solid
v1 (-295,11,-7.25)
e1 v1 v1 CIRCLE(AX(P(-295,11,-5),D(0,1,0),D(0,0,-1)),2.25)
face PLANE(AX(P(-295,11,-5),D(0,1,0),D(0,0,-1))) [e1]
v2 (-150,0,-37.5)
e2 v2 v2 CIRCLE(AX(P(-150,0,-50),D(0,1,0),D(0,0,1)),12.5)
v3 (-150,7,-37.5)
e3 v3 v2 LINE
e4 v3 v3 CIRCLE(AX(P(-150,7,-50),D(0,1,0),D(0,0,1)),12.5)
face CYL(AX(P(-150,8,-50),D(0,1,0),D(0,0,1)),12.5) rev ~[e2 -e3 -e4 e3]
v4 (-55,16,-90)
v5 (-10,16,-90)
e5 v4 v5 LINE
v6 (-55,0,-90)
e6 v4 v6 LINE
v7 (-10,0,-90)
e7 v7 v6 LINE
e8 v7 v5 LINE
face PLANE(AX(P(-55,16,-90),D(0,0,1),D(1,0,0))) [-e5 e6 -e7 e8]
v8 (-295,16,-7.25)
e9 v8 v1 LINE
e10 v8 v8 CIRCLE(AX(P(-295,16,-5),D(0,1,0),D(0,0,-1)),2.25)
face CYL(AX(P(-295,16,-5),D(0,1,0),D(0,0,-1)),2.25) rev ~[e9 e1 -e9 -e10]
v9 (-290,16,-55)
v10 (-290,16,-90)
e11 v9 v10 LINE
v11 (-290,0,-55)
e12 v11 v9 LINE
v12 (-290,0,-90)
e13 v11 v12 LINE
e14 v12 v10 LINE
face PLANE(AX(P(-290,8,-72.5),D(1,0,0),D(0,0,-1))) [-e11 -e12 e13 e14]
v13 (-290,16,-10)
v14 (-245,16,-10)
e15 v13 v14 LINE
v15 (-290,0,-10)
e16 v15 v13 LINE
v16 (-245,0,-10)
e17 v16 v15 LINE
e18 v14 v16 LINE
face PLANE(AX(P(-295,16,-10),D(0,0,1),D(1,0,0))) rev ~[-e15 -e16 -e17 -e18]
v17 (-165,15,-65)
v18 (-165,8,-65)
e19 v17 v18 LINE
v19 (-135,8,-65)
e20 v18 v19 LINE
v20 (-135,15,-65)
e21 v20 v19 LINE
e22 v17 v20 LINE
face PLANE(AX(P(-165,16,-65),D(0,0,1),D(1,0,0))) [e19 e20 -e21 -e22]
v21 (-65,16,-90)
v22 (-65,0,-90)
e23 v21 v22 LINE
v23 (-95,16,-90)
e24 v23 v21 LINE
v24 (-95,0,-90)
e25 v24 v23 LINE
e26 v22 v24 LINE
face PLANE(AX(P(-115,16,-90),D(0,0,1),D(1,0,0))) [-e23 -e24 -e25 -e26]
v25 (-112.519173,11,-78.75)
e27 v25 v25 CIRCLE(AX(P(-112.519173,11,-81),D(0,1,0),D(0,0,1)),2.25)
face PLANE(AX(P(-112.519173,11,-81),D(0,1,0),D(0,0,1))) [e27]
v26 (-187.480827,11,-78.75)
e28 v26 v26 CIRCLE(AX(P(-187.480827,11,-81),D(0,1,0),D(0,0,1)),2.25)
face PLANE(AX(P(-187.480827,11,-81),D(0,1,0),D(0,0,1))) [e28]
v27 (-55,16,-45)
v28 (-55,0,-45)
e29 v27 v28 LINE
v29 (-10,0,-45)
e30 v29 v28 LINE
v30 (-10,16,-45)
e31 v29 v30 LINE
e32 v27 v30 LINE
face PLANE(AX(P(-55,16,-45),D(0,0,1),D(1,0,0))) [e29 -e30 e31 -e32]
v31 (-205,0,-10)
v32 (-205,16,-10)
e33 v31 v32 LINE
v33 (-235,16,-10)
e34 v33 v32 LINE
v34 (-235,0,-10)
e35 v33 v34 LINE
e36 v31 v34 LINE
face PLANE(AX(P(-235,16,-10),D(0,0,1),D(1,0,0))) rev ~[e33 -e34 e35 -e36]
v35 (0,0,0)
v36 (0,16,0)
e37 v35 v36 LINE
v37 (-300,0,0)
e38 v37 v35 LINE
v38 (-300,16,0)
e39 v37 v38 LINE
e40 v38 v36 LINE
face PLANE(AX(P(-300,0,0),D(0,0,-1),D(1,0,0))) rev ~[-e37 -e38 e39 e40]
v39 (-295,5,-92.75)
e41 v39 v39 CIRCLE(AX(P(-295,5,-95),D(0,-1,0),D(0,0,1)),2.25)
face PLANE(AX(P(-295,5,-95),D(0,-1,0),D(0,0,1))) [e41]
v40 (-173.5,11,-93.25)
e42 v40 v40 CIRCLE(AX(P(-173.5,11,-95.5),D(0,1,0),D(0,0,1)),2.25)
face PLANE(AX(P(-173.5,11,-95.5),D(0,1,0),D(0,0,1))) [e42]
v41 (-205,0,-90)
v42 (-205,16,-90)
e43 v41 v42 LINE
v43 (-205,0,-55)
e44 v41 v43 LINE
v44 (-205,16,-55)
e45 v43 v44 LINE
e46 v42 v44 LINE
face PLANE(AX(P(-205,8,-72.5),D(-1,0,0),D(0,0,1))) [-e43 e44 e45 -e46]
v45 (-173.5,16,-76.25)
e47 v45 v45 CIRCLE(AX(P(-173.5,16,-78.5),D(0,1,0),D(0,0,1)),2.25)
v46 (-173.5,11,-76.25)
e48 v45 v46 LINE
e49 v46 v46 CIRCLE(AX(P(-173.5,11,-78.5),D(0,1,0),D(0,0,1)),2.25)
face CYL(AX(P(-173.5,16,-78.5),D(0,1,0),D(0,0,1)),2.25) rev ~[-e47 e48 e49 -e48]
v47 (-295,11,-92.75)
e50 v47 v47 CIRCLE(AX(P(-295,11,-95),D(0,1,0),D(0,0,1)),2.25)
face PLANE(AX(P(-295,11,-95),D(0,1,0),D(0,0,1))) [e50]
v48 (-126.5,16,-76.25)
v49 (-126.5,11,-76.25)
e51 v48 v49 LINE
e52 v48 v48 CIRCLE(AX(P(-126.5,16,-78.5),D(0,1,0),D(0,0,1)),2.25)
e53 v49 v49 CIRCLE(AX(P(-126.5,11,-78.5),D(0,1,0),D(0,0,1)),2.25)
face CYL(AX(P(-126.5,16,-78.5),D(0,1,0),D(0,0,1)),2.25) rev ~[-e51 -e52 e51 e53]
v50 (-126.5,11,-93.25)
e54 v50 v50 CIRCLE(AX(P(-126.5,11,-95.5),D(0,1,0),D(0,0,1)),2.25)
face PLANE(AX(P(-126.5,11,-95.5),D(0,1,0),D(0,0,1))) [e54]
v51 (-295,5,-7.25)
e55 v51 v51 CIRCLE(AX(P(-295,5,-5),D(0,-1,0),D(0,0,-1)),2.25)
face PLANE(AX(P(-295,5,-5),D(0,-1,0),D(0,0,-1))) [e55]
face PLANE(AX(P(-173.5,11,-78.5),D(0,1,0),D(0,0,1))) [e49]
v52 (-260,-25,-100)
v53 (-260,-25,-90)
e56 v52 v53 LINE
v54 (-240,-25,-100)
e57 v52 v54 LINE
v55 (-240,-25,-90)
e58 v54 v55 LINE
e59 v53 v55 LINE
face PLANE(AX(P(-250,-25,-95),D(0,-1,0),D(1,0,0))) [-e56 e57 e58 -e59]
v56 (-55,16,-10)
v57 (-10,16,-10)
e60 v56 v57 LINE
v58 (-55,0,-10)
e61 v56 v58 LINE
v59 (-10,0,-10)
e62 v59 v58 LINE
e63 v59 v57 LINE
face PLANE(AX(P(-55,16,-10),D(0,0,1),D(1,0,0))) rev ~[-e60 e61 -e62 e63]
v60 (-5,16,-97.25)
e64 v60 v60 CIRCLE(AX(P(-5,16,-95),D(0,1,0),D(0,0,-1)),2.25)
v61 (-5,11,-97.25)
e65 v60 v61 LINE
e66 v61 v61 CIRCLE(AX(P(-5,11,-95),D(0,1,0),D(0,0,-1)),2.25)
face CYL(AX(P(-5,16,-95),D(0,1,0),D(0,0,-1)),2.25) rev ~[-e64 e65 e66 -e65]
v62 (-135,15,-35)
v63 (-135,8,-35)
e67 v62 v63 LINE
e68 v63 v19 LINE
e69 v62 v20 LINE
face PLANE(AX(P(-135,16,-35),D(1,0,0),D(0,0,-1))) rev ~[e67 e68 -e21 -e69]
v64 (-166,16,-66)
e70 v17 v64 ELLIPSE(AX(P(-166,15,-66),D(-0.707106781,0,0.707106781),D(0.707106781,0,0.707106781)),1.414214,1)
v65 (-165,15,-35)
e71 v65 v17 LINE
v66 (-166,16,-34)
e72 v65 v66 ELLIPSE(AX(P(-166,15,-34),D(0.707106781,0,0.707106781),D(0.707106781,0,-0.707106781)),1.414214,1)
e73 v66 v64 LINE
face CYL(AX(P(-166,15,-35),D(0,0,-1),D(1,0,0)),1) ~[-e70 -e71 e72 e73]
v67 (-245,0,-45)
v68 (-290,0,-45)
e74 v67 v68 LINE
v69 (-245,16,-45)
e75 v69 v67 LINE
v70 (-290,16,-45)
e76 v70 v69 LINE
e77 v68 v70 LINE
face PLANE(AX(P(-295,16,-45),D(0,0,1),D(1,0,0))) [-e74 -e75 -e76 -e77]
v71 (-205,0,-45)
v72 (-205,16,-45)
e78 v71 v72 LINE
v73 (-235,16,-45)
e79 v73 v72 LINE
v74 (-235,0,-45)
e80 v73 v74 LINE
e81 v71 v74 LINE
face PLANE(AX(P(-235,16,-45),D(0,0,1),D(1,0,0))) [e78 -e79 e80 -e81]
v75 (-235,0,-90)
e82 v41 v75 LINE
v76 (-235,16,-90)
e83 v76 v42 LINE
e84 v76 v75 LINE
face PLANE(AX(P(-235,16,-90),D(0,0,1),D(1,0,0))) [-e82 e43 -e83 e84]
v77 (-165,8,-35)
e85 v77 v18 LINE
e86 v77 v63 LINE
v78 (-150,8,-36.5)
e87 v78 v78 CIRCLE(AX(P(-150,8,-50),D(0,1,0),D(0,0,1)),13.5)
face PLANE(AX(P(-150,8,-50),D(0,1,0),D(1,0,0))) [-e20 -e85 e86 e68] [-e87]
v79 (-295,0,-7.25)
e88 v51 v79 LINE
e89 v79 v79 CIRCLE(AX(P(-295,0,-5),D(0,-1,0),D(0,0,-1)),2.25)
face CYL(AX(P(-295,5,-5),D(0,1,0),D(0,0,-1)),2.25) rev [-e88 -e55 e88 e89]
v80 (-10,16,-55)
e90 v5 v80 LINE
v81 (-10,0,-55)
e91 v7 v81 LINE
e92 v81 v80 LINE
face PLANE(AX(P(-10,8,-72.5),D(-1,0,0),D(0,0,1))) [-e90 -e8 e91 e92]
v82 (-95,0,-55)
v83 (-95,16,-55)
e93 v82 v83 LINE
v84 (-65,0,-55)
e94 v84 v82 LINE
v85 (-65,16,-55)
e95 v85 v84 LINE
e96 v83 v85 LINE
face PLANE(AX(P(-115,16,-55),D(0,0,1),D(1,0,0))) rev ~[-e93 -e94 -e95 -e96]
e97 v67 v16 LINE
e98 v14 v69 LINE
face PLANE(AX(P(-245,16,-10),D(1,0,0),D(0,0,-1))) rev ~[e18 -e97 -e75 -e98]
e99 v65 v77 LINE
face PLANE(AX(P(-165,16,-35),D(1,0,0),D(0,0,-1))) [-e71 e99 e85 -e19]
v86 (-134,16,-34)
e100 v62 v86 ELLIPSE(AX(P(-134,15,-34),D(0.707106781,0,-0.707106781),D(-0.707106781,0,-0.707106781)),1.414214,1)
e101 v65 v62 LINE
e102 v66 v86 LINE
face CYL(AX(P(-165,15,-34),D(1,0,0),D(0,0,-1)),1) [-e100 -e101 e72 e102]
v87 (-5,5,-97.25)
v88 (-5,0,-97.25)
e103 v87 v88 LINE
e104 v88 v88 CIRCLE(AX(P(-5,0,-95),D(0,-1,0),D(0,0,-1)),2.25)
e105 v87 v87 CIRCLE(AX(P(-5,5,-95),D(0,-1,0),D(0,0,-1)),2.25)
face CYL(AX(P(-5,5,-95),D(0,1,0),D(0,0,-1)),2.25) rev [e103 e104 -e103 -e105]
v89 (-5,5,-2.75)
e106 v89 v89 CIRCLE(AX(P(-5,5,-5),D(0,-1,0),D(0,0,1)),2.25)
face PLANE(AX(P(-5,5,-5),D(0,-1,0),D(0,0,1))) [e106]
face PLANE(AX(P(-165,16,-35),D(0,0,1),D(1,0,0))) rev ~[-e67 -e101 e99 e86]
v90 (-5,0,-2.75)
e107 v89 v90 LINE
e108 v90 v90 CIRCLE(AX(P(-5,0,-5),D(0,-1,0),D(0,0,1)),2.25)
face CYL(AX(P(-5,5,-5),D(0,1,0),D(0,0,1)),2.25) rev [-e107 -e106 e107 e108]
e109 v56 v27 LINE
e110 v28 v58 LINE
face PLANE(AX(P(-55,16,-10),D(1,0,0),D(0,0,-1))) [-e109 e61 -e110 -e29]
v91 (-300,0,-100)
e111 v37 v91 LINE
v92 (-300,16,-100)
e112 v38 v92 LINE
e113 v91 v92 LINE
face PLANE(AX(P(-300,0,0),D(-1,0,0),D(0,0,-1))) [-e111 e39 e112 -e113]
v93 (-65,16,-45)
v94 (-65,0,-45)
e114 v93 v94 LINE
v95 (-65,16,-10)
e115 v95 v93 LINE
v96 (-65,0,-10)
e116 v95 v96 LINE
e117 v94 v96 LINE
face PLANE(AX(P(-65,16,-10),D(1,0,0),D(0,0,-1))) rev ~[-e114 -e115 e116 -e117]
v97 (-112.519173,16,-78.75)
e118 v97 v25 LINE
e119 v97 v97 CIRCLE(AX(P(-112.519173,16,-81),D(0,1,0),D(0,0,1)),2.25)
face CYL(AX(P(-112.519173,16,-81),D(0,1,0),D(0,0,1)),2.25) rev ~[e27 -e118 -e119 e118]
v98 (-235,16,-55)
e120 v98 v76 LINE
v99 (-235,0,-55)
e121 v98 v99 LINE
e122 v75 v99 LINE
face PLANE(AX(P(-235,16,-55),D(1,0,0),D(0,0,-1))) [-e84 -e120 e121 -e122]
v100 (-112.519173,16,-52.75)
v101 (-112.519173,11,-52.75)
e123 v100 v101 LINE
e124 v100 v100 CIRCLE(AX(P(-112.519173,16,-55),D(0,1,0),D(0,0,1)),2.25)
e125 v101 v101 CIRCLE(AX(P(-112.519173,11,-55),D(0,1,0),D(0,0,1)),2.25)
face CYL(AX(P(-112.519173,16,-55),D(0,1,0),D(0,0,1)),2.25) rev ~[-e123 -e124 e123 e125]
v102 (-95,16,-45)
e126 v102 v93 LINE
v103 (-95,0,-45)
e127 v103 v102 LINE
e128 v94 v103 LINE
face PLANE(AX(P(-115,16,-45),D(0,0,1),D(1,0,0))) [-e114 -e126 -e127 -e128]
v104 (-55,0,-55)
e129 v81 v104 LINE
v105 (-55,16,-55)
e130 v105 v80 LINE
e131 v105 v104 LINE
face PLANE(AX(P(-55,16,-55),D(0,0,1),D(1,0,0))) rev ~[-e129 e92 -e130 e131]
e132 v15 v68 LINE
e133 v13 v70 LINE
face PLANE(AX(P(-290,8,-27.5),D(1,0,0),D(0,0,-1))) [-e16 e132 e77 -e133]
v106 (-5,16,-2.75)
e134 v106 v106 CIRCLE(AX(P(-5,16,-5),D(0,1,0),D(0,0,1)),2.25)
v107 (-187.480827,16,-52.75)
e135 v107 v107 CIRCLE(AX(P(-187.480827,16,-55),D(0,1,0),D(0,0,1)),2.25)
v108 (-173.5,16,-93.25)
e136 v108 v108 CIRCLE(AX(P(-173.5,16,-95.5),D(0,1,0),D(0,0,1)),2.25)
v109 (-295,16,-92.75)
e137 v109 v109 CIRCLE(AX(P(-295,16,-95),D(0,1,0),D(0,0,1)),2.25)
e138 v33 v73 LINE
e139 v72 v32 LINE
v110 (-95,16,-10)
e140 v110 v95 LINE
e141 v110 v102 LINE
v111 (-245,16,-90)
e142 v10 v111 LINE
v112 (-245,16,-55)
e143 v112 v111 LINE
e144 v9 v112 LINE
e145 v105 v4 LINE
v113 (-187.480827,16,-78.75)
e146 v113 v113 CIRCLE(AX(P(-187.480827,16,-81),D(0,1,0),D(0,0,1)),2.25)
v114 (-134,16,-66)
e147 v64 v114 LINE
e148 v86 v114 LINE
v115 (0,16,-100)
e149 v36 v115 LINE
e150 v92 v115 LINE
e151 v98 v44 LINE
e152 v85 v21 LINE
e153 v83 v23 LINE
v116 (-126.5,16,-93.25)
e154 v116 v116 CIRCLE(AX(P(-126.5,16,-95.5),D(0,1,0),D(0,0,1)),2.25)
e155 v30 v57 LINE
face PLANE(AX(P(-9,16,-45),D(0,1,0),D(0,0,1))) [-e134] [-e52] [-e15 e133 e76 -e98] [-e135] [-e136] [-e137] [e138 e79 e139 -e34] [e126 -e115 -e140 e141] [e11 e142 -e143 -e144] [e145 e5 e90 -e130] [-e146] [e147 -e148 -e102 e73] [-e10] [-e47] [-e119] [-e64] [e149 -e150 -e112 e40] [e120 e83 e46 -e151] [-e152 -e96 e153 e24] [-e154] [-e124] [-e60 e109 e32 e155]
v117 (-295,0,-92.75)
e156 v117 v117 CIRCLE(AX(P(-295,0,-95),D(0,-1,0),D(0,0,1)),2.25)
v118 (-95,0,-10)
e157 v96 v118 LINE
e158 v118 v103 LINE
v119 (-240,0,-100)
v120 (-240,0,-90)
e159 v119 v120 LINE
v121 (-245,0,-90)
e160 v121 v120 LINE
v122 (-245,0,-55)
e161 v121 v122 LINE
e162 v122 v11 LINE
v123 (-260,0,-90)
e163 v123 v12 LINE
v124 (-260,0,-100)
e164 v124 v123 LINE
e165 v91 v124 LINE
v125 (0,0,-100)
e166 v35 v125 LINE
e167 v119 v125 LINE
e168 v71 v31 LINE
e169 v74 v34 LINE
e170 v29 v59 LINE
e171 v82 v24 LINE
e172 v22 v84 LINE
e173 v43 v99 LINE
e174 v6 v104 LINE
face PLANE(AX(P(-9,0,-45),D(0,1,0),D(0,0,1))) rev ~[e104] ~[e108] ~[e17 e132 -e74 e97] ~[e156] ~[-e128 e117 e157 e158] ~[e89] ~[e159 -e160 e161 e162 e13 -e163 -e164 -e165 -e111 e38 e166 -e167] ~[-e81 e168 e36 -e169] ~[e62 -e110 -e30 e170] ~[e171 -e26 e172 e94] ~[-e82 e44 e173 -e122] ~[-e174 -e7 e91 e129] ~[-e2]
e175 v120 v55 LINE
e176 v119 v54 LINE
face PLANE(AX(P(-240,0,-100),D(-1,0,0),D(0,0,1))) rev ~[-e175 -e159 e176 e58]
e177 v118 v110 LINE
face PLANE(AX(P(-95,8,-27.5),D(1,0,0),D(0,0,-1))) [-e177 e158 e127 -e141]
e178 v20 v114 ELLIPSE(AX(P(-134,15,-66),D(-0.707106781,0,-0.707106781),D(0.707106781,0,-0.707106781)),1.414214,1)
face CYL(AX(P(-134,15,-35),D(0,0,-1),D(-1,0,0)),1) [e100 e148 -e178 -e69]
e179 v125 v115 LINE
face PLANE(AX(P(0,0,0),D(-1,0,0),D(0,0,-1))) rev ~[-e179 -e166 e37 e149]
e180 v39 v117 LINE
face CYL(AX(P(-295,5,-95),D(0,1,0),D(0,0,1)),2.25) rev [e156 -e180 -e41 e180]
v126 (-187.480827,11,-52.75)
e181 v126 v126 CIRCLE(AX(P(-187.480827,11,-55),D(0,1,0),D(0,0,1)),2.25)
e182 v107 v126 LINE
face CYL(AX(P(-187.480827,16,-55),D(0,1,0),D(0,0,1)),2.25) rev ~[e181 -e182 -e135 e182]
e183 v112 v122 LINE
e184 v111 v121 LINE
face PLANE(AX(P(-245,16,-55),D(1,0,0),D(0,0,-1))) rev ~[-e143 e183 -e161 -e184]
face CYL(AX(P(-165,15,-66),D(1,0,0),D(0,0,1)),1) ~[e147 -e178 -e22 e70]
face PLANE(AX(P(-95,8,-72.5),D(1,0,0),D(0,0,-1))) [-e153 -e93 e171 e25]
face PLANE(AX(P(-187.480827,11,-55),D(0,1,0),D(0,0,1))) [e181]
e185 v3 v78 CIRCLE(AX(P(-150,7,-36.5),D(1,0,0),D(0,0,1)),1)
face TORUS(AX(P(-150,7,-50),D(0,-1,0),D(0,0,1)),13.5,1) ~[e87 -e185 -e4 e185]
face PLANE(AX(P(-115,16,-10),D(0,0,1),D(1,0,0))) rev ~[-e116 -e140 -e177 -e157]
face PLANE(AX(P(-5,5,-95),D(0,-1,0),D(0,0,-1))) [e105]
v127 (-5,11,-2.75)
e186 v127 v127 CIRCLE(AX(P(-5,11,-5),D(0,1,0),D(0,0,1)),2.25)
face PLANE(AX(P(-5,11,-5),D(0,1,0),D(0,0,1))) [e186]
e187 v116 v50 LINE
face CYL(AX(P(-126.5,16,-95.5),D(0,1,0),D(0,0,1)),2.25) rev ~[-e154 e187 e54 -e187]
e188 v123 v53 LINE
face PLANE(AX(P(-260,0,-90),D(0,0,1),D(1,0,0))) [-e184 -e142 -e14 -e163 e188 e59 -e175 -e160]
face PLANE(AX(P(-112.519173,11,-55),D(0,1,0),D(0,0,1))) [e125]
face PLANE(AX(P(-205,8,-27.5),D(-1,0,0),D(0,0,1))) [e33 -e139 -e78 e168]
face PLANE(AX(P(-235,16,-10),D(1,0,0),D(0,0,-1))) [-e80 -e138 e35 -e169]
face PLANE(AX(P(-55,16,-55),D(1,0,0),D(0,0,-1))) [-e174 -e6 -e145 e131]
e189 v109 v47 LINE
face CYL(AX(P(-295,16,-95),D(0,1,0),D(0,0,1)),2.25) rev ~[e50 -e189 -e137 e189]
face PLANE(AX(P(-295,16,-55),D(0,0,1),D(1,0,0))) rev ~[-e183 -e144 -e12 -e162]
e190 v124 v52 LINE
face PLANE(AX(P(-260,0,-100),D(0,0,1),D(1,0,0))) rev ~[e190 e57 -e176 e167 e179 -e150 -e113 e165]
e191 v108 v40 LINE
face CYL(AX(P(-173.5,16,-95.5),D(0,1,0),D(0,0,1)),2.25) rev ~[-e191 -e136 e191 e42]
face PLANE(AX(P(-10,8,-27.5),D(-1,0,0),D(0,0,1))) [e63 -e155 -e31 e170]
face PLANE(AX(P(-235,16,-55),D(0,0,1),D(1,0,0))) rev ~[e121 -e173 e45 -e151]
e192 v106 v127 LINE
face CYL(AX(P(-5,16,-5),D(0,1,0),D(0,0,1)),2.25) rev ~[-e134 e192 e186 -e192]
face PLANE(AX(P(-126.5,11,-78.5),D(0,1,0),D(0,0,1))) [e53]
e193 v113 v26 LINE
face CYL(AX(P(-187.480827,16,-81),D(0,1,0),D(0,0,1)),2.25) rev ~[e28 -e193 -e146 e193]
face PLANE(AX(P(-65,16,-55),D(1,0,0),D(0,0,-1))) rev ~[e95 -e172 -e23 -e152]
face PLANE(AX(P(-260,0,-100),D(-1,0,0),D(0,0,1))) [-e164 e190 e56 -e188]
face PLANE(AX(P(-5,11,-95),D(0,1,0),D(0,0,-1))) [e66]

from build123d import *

# Parameters (mm, degrees)
SKETCH_1_W           = 300
SKETCH_1_H           = 100
EXTRUDE_1_DEPTH      = 16
SKETCH_2_W           = 30
SKETCH_2_H           = 30
CUT_EXTRUDE_1_DEPTH  = 8
SKETCH_3_R           = 12.5
CUT_EXTRUDE_2_DEPTH  = 14
CUT_EXTRUDE_3_REACH  = 318.632
SKETCH_4_W           = 50
SKETCH_4_H           = 35
SKETCH_7_W           = 35
SKETCH_7_H           = 16
EXTRUDE_2_DEPTH      = 20
SKETCH_8_W           = 35
SKETCH_8_H           = 16
EXTRUDE_3_DEPTH      = 20
SKETCH_9_W           = 20
SKETCH_9_H           = 10
EXTRUDE_4_DEPTH      = 25
FILLET_1_R           = 1
FILLET_2_R           = 1
SKETCH_13_W          = 35
SKETCH_13_H          = 16
EXTRUDE_6_DEPTH      = 4
SKETCH_14_W          = 35
SKETCH_14_H          = 16
EXTRUDE_7_DEPTH      = 4
SKETCH_17_W          = 35
SKETCH_17_H          = 16
EXTRUDE_8_DEPTH      = 1
SKETCH_18_W          = 35
SKETCH_18_H          = 16
EXTRUDE_9_DEPTH      = 1
SKETCH_19_R          = 2.25
CUT_EXTRUDE_8_DEPTH  = 5
CUT_EXTRUDE_START    = -5
SKETCH_20_R          = 2.25
CUT_EXTRUDE_9_DEPTH  = 5
SKETCH_21_R          = 1.45
CUT_EXTRUDE_10_DEPTH = 5
SKETCH_22_R          = 2.25
CUT_EXTRUDE_11_DEPTH = 5
SKETCH_23_R          = 1.45
CUT_EXTRUDE_12_DEPTH = 5
SKETCH_24_R          = 2.25
CUT_EXTRUDE_13_DEPTH = 5


with BuildPart() as part:
    # 草图1 → 凸台-拉伸1 (new body)
    with BuildSketch(Plane(origin=(0, 0, 0), x_dir=(1, 0, 0), z_dir=(0, 1, 0))):
        with Locations((-150, 50)):
            Rectangle(SKETCH_1_W, SKETCH_1_H)
    extrude(amount=EXTRUDE_1_DEPTH)

    # 草图2 → 切除-拉伸1 (cut)
    with BuildSketch(Plane(origin=(0, 16, 0), x_dir=(1, 0, 0), z_dir=(0, 1, 0))):
        with Locations((-150, 50)):
            Rectangle(SKETCH_2_W, SKETCH_2_H)
    extrude(amount=-CUT_EXTRUDE_1_DEPTH, mode=Mode.SUBTRACT)

    # 草图3 → 切除-拉伸2 (cut)
    with BuildSketch(Plane(origin=(0, 8, 0), x_dir=(1, 0, 0), z_dir=(0, 1, 0))):
        with Locations(Location((-150, 50, 0), (0, 0, 270))):
            Circle(SKETCH_3_R)
    extrude(amount=-CUT_EXTRUDE_2_DEPTH, mode=Mode.SUBTRACT)

    # 草图4 → 切除-拉伸3 (cut, up to next)
    with BuildSketch(Plane(origin=(0, 16, 0), x_dir=(1, 0, 0), z_dir=(0, 1, 0)), mode=Mode.PRIVATE) as cut_extrude_3_sk1:
        with Locations((-270, 72.5)):
            Rectangle(SKETCH_4_W, SKETCH_4_H)
    cut_extrude_3_tool1 = extrude(cut_extrude_3_sk1.sketch, amount=-CUT_EXTRUDE_3_REACH, mode=Mode.PRIVATE) & part.part
    # 草图4 → 切除-拉伸3 (cut, up to next)
    with BuildSketch(Plane(origin=(0, 16, 0), x_dir=(1, 0, 0), z_dir=(0, 1, 0)), mode=Mode.PRIVATE) as cut_extrude_3_sk2:
        with Locations((-270, 27.5)):
            Rectangle(SKETCH_4_W, SKETCH_4_H)
    cut_extrude_3_tool2 = extrude(cut_extrude_3_sk2.sketch, amount=-CUT_EXTRUDE_3_REACH, mode=Mode.PRIVATE) & part.part
    # 草图4 → 切除-拉伸3 (cut, up to next)
    with BuildSketch(Plane(origin=(0, 16, 0), x_dir=(1, 0, 0), z_dir=(0, 1, 0)), mode=Mode.PRIVATE) as cut_extrude_3_sk3:
        with Locations((-210, 72.5)):
            Rectangle(SKETCH_4_W, SKETCH_4_H)
    cut_extrude_3_tool3 = extrude(cut_extrude_3_sk3.sketch, amount=-CUT_EXTRUDE_3_REACH, mode=Mode.PRIVATE) & part.part
    # 草图4 → 切除-拉伸3 (cut, up to next)
    with BuildSketch(Plane(origin=(0, 16, 0), x_dir=(1, 0, 0), z_dir=(0, 1, 0)), mode=Mode.PRIVATE) as cut_extrude_3_sk4:
        with Locations((-210, 27.5)):
            Rectangle(SKETCH_4_W, SKETCH_4_H)
    cut_extrude_3_tool4 = extrude(cut_extrude_3_sk4.sketch, amount=-CUT_EXTRUDE_3_REACH, mode=Mode.PRIVATE) & part.part
    # 草图4 → 切除-拉伸3 (cut, up to next)
    with BuildSketch(Plane(origin=(0, 16, 0), x_dir=(1, 0, 0), z_dir=(0, 1, 0)), mode=Mode.PRIVATE) as cut_extrude_3_sk5:
        with Locations((-30, 27.5)):
            Rectangle(SKETCH_4_W, SKETCH_4_H)
    cut_extrude_3_tool5 = extrude(cut_extrude_3_sk5.sketch, amount=-CUT_EXTRUDE_3_REACH, mode=Mode.PRIVATE) & part.part
    # 草图4 → 切除-拉伸3 (cut, up to next)
    with BuildSketch(Plane(origin=(0, 16, 0), x_dir=(1, 0, 0), z_dir=(0, 1, 0)), mode=Mode.PRIVATE) as cut_extrude_3_sk6:
        with Locations((-90, 27.5)):
            Rectangle(SKETCH_4_W, SKETCH_4_H)
    cut_extrude_3_tool6 = extrude(cut_extrude_3_sk6.sketch, amount=-CUT_EXTRUDE_3_REACH, mode=Mode.PRIVATE) & part.part
    # 草图4 → 切除-拉伸3 (cut, up to next)
    with BuildSketch(Plane(origin=(0, 16, 0), x_dir=(1, 0, 0), z_dir=(0, 1, 0)), mode=Mode.PRIVATE) as cut_extrude_3_sk7:
        with Locations((-90, 72.5)):
            Rectangle(SKETCH_4_W, SKETCH_4_H)
    cut_extrude_3_tool7 = extrude(cut_extrude_3_sk7.sketch, amount=-CUT_EXTRUDE_3_REACH, mode=Mode.PRIVATE) & part.part
    # 草图4 → 切除-拉伸3 (cut, up to next)
    with BuildSketch(Plane(origin=(0, 16, 0), x_dir=(1, 0, 0), z_dir=(0, 1, 0)), mode=Mode.PRIVATE) as cut_extrude_3_sk8:
        with Locations((-30, 72.5)):
            Rectangle(SKETCH_4_W, SKETCH_4_H)
    cut_extrude_3_tool8 = extrude(cut_extrude_3_sk8.sketch, amount=-CUT_EXTRUDE_3_REACH, mode=Mode.PRIVATE) & part.part
    add(cut_extrude_3_tool1.solids().sort_by_distance((-270, 16, -72.5))[0], mode=Mode.SUBTRACT)
    add(cut_extrude_3_tool2.solids().sort_by_distance((-270, 16, -27.5))[0], mode=Mode.SUBTRACT)
    add(cut_extrude_3_tool3.solids().sort_by_distance((-210, 16, -72.5))[0], mode=Mode.SUBTRACT)
    add(cut_extrude_3_tool4.solids().sort_by_distance((-210, 16, -27.5))[0], mode=Mode.SUBTRACT)
    add(cut_extrude_3_tool5.solids().sort_by_distance((-30, 16, -27.5))[0], mode=Mode.SUBTRACT)
    add(cut_extrude_3_tool6.solids().sort_by_distance((-90, 16, -27.5))[0], mode=Mode.SUBTRACT)
    add(cut_extrude_3_tool7.solids().sort_by_distance((-90, 16, -72.5))[0], mode=Mode.SUBTRACT)
    add(cut_extrude_3_tool8.solids().sort_by_distance((-30, 16, -72.5))[0], mode=Mode.SUBTRACT)

    # 草图7 → 凸台-拉伸2 (add)
    with BuildSketch(Plane.ZY.offset(185)):
        with Locations((-27.5, 8)):
            Rectangle(SKETCH_7_W, SKETCH_7_H)
        with Locations((-72.5, 8)):
            Rectangle(SKETCH_7_W, SKETCH_7_H)
    extrude(amount=EXTRUDE_2_DEPTH)

    # 草图8 → 凸台-拉伸3 (add)
    with BuildSketch(Plane(origin=(-115, 0, 0), x_dir=(0, 0, -1), z_dir=(1, 0, 0))):
        with Locations((27.5, 8)):
            Rectangle(SKETCH_8_W, SKETCH_8_H)
        with Locations((72.5, 8)):
            Rectangle(SKETCH_8_W, SKETCH_8_H)
    extrude(amount=EXTRUDE_3_DEPTH)

    # 草图9 → 凸台-拉伸4 (add)
    with BuildSketch(Plane.XZ):
        with Locations((-250, -95)):
            Rectangle(SKETCH_9_W, SKETCH_9_H)
    extrude(amount=EXTRUDE_4_DEPTH)

    # 圆角1
    fillet_1_edges = [part.edges().sort_by_distance(p)[0] for p in [
        (-150, 8, -62.5),
    ]]
    fillet(fillet_1_edges, radius=FILLET_1_R)

    # 圆角2
    fillet_2_edges = [part.edges().sort_by_distance(p)[0] for p in [
        (-135, 16, -50),
        (-150, 16, -65),
        (-165, 16, -50),
        (-150, 16, -35),
    ]]
    fillet(fillet_2_edges, radius=FILLET_2_R)

    # 草图13 → 凸台-拉伸6 (add)
    with BuildSketch(Plane.ZY.offset(5)):
        with Locations((-72.5, 8)):
            Rectangle(SKETCH_13_W, SKETCH_13_H)
        with Locations((-27.5, 8)):
            Rectangle(SKETCH_13_W, SKETCH_13_H)
    extrude(amount=EXTRUDE_6_DEPTH)

    # 草图14 → 凸台-拉伸7 (add)
    with BuildSketch(Plane(origin=(-295, 0, 0), x_dir=(0, 0, -1), z_dir=(1, 0, 0))):
        with Locations((72.5, 8)):
            Rectangle(SKETCH_14_W, SKETCH_14_H)
        with Locations((27.5, 8)):
            Rectangle(SKETCH_14_W, SKETCH_14_H)
    extrude(amount=EXTRUDE_7_DEPTH)

    # 草图17 → 凸台-拉伸8 (add)
    with BuildSketch(Plane(origin=(-291, 0, 0), x_dir=(0, 0, -1), z_dir=(1, 0, 0))):
        with Locations((27.5, 8)):
            Rectangle(SKETCH_17_W, SKETCH_17_H)
        with Locations((72.5, 8)):
            Rectangle(SKETCH_17_W, SKETCH_17_H)
    extrude(amount=EXTRUDE_8_DEPTH)

    # 草图18 → 凸台-拉伸9 (add)
    with BuildSketch(Plane.ZY.offset(9)):
        with Locations((-27.5, 8)):
            Rectangle(SKETCH_18_W, SKETCH_18_H)
        with Locations((-72.5, 8)):
            Rectangle(SKETCH_18_W, SKETCH_18_H)
    extrude(amount=EXTRUDE_9_DEPTH)

    # 草图19 → 切除-拉伸8 (cut)
    with BuildSketch(Plane(origin=(0, 16, 0), x_dir=(1, 0, 0), z_dir=(0, 1, 0))):
        with Locations(Location((-295, 95, 0), (0, 0, 270))):
            Circle(SKETCH_19_R)
        with Locations(Location((-295, 5, 0), (0, 0, 90))):
            Circle(SKETCH_19_R)
        with Locations(Location((-5, 5, 0), (0, 0, 270))):
            Circle(SKETCH_19_R)
        with Locations(Location((-5, 95, 0), (0, 0, 90))):
            Circle(SKETCH_19_R)
    extrude(amount=-CUT_EXTRUDE_8_DEPTH, mode=Mode.SUBTRACT)

    # 草图20 → 切除-拉伸9 (cut)
    with BuildSketch(Plane.XZ.offset(CUT_EXTRUDE_START)):
        with Locations(Location((-295, -95, 0), (0, 0, 90))):
            Circle(SKETCH_20_R)
        with Locations(Location((-295, -5, 0), (0, 0, 270))):
            Circle(SKETCH_20_R)
        with Locations(Location((-5, -95, 0), (0, 0, 270))):
            Circle(SKETCH_20_R)
        with Locations(Location((-5, -5, 0), (0, 0, 90))):
            Circle(SKETCH_20_R)
    extrude(amount=CUT_EXTRUDE_9_DEPTH, mode=Mode.SUBTRACT)

    # 草图21 → 切除-拉伸10 (cut)
    with BuildSketch(Plane(origin=(-100.276222054, 16, -200.091791604), x_dir=(-0.00184091553368713, 0, -0.9999983055135633), z_dir=(0, 1, 0))):
        with Locations(Location((-104.543338614, 26.416278164, 0), (0, 0, 179.89452325))):
            Circle(SKETCH_21_R)
        with Locations(Location((-121.543309808, 26.447573728, 0), (0, 0, 179.89452325))):
            Circle(SKETCH_21_R)
        with Locations(Location((-121.456786778, 73.447494087, 0), (0, 0, 179.89452325))):
            Circle(SKETCH_21_R)
        with Locations(Location((-104.456815584, 73.416198523, 0), (0, 0, 179.89452325))):
            Circle(SKETCH_21_R)
    extrude(amount=-CUT_EXTRUDE_10_DEPTH, mode=Mode.SUBTRACT)

    # 草图22 → 切除-拉伸11 (cut)
    with BuildSketch(Plane(origin=(0, 16, 0), x_dir=(1, 0, 0), z_dir=(0, 1, 0))):
        with Locations(Location((-173.5, 95.5, 0), (0, 0, 270))):
            Circle(SKETCH_22_R)
        with Locations(Location((-173.5, 78.5, 0), (0, 0, 270))):
            Circle(SKETCH_22_R)
        with Locations(Location((-126.5, 95.5, 0), (0, 0, 270))):
            Circle(SKETCH_22_R)
        with Locations(Location((-126.5, 78.5, 0), (0, 0, 270))):
            Circle(SKETCH_22_R)
    extrude(amount=-CUT_EXTRUDE_11_DEPTH, mode=Mode.SUBTRACT)

    # 草图23 → 切除-拉伸12 (cut)
    with BuildSketch(Plane(origin=(-100.276222054, 16, -200.091791604), x_dir=(-0.00184091553368713, 0, -0.9999983055135633), z_dir=(0, 1, 0))):
        with Locations(Location((-119.069051565, 12.462168574, 0), (0, 0, 179.89452325))):
            Circle(SKETCH_23_R)
        with Locations(Location((-145.069007508, 12.510032378, 0), (0, 0, 179.89452325))):
            Circle(SKETCH_23_R)
        with Locations(Location((-144.931009437, 87.471558467, 0), (0, 0, 179.89452325))):
            Circle(SKETCH_23_R)
        with Locations(Location((-118.931053493, 87.423694663, 0), (0, 0, 179.89452325))):
            Circle(SKETCH_23_R)
    extrude(amount=-CUT_EXTRUDE_12_DEPTH, mode=Mode.SUBTRACT)

    # 草图24 → 切除-拉伸13 (cut)
    with BuildSketch(Plane(origin=(0, 16, 0), x_dir=(1, 0, 0), z_dir=(0, 1, 0))):
        with Locations(Location((-187.480826555, 81, 0), (0, 0, 270))):
            Circle(SKETCH_24_R)
        with Locations(Location((-187.480826555, 55, 0), (0, 0, 270))):
            Circle(SKETCH_24_R)
        with Locations(Location((-112.519173445, 81, 0), (0, 0, 270))):
            Circle(SKETCH_24_R)
        with Locations(Location((-112.519173445, 55, 0), (0, 0, 270))):
            Circle(SKETCH_24_R)
    extrude(amount=-CUT_EXTRUDE_13_DEPTH, mode=Mode.SUBTRACT)


solid = part.part
